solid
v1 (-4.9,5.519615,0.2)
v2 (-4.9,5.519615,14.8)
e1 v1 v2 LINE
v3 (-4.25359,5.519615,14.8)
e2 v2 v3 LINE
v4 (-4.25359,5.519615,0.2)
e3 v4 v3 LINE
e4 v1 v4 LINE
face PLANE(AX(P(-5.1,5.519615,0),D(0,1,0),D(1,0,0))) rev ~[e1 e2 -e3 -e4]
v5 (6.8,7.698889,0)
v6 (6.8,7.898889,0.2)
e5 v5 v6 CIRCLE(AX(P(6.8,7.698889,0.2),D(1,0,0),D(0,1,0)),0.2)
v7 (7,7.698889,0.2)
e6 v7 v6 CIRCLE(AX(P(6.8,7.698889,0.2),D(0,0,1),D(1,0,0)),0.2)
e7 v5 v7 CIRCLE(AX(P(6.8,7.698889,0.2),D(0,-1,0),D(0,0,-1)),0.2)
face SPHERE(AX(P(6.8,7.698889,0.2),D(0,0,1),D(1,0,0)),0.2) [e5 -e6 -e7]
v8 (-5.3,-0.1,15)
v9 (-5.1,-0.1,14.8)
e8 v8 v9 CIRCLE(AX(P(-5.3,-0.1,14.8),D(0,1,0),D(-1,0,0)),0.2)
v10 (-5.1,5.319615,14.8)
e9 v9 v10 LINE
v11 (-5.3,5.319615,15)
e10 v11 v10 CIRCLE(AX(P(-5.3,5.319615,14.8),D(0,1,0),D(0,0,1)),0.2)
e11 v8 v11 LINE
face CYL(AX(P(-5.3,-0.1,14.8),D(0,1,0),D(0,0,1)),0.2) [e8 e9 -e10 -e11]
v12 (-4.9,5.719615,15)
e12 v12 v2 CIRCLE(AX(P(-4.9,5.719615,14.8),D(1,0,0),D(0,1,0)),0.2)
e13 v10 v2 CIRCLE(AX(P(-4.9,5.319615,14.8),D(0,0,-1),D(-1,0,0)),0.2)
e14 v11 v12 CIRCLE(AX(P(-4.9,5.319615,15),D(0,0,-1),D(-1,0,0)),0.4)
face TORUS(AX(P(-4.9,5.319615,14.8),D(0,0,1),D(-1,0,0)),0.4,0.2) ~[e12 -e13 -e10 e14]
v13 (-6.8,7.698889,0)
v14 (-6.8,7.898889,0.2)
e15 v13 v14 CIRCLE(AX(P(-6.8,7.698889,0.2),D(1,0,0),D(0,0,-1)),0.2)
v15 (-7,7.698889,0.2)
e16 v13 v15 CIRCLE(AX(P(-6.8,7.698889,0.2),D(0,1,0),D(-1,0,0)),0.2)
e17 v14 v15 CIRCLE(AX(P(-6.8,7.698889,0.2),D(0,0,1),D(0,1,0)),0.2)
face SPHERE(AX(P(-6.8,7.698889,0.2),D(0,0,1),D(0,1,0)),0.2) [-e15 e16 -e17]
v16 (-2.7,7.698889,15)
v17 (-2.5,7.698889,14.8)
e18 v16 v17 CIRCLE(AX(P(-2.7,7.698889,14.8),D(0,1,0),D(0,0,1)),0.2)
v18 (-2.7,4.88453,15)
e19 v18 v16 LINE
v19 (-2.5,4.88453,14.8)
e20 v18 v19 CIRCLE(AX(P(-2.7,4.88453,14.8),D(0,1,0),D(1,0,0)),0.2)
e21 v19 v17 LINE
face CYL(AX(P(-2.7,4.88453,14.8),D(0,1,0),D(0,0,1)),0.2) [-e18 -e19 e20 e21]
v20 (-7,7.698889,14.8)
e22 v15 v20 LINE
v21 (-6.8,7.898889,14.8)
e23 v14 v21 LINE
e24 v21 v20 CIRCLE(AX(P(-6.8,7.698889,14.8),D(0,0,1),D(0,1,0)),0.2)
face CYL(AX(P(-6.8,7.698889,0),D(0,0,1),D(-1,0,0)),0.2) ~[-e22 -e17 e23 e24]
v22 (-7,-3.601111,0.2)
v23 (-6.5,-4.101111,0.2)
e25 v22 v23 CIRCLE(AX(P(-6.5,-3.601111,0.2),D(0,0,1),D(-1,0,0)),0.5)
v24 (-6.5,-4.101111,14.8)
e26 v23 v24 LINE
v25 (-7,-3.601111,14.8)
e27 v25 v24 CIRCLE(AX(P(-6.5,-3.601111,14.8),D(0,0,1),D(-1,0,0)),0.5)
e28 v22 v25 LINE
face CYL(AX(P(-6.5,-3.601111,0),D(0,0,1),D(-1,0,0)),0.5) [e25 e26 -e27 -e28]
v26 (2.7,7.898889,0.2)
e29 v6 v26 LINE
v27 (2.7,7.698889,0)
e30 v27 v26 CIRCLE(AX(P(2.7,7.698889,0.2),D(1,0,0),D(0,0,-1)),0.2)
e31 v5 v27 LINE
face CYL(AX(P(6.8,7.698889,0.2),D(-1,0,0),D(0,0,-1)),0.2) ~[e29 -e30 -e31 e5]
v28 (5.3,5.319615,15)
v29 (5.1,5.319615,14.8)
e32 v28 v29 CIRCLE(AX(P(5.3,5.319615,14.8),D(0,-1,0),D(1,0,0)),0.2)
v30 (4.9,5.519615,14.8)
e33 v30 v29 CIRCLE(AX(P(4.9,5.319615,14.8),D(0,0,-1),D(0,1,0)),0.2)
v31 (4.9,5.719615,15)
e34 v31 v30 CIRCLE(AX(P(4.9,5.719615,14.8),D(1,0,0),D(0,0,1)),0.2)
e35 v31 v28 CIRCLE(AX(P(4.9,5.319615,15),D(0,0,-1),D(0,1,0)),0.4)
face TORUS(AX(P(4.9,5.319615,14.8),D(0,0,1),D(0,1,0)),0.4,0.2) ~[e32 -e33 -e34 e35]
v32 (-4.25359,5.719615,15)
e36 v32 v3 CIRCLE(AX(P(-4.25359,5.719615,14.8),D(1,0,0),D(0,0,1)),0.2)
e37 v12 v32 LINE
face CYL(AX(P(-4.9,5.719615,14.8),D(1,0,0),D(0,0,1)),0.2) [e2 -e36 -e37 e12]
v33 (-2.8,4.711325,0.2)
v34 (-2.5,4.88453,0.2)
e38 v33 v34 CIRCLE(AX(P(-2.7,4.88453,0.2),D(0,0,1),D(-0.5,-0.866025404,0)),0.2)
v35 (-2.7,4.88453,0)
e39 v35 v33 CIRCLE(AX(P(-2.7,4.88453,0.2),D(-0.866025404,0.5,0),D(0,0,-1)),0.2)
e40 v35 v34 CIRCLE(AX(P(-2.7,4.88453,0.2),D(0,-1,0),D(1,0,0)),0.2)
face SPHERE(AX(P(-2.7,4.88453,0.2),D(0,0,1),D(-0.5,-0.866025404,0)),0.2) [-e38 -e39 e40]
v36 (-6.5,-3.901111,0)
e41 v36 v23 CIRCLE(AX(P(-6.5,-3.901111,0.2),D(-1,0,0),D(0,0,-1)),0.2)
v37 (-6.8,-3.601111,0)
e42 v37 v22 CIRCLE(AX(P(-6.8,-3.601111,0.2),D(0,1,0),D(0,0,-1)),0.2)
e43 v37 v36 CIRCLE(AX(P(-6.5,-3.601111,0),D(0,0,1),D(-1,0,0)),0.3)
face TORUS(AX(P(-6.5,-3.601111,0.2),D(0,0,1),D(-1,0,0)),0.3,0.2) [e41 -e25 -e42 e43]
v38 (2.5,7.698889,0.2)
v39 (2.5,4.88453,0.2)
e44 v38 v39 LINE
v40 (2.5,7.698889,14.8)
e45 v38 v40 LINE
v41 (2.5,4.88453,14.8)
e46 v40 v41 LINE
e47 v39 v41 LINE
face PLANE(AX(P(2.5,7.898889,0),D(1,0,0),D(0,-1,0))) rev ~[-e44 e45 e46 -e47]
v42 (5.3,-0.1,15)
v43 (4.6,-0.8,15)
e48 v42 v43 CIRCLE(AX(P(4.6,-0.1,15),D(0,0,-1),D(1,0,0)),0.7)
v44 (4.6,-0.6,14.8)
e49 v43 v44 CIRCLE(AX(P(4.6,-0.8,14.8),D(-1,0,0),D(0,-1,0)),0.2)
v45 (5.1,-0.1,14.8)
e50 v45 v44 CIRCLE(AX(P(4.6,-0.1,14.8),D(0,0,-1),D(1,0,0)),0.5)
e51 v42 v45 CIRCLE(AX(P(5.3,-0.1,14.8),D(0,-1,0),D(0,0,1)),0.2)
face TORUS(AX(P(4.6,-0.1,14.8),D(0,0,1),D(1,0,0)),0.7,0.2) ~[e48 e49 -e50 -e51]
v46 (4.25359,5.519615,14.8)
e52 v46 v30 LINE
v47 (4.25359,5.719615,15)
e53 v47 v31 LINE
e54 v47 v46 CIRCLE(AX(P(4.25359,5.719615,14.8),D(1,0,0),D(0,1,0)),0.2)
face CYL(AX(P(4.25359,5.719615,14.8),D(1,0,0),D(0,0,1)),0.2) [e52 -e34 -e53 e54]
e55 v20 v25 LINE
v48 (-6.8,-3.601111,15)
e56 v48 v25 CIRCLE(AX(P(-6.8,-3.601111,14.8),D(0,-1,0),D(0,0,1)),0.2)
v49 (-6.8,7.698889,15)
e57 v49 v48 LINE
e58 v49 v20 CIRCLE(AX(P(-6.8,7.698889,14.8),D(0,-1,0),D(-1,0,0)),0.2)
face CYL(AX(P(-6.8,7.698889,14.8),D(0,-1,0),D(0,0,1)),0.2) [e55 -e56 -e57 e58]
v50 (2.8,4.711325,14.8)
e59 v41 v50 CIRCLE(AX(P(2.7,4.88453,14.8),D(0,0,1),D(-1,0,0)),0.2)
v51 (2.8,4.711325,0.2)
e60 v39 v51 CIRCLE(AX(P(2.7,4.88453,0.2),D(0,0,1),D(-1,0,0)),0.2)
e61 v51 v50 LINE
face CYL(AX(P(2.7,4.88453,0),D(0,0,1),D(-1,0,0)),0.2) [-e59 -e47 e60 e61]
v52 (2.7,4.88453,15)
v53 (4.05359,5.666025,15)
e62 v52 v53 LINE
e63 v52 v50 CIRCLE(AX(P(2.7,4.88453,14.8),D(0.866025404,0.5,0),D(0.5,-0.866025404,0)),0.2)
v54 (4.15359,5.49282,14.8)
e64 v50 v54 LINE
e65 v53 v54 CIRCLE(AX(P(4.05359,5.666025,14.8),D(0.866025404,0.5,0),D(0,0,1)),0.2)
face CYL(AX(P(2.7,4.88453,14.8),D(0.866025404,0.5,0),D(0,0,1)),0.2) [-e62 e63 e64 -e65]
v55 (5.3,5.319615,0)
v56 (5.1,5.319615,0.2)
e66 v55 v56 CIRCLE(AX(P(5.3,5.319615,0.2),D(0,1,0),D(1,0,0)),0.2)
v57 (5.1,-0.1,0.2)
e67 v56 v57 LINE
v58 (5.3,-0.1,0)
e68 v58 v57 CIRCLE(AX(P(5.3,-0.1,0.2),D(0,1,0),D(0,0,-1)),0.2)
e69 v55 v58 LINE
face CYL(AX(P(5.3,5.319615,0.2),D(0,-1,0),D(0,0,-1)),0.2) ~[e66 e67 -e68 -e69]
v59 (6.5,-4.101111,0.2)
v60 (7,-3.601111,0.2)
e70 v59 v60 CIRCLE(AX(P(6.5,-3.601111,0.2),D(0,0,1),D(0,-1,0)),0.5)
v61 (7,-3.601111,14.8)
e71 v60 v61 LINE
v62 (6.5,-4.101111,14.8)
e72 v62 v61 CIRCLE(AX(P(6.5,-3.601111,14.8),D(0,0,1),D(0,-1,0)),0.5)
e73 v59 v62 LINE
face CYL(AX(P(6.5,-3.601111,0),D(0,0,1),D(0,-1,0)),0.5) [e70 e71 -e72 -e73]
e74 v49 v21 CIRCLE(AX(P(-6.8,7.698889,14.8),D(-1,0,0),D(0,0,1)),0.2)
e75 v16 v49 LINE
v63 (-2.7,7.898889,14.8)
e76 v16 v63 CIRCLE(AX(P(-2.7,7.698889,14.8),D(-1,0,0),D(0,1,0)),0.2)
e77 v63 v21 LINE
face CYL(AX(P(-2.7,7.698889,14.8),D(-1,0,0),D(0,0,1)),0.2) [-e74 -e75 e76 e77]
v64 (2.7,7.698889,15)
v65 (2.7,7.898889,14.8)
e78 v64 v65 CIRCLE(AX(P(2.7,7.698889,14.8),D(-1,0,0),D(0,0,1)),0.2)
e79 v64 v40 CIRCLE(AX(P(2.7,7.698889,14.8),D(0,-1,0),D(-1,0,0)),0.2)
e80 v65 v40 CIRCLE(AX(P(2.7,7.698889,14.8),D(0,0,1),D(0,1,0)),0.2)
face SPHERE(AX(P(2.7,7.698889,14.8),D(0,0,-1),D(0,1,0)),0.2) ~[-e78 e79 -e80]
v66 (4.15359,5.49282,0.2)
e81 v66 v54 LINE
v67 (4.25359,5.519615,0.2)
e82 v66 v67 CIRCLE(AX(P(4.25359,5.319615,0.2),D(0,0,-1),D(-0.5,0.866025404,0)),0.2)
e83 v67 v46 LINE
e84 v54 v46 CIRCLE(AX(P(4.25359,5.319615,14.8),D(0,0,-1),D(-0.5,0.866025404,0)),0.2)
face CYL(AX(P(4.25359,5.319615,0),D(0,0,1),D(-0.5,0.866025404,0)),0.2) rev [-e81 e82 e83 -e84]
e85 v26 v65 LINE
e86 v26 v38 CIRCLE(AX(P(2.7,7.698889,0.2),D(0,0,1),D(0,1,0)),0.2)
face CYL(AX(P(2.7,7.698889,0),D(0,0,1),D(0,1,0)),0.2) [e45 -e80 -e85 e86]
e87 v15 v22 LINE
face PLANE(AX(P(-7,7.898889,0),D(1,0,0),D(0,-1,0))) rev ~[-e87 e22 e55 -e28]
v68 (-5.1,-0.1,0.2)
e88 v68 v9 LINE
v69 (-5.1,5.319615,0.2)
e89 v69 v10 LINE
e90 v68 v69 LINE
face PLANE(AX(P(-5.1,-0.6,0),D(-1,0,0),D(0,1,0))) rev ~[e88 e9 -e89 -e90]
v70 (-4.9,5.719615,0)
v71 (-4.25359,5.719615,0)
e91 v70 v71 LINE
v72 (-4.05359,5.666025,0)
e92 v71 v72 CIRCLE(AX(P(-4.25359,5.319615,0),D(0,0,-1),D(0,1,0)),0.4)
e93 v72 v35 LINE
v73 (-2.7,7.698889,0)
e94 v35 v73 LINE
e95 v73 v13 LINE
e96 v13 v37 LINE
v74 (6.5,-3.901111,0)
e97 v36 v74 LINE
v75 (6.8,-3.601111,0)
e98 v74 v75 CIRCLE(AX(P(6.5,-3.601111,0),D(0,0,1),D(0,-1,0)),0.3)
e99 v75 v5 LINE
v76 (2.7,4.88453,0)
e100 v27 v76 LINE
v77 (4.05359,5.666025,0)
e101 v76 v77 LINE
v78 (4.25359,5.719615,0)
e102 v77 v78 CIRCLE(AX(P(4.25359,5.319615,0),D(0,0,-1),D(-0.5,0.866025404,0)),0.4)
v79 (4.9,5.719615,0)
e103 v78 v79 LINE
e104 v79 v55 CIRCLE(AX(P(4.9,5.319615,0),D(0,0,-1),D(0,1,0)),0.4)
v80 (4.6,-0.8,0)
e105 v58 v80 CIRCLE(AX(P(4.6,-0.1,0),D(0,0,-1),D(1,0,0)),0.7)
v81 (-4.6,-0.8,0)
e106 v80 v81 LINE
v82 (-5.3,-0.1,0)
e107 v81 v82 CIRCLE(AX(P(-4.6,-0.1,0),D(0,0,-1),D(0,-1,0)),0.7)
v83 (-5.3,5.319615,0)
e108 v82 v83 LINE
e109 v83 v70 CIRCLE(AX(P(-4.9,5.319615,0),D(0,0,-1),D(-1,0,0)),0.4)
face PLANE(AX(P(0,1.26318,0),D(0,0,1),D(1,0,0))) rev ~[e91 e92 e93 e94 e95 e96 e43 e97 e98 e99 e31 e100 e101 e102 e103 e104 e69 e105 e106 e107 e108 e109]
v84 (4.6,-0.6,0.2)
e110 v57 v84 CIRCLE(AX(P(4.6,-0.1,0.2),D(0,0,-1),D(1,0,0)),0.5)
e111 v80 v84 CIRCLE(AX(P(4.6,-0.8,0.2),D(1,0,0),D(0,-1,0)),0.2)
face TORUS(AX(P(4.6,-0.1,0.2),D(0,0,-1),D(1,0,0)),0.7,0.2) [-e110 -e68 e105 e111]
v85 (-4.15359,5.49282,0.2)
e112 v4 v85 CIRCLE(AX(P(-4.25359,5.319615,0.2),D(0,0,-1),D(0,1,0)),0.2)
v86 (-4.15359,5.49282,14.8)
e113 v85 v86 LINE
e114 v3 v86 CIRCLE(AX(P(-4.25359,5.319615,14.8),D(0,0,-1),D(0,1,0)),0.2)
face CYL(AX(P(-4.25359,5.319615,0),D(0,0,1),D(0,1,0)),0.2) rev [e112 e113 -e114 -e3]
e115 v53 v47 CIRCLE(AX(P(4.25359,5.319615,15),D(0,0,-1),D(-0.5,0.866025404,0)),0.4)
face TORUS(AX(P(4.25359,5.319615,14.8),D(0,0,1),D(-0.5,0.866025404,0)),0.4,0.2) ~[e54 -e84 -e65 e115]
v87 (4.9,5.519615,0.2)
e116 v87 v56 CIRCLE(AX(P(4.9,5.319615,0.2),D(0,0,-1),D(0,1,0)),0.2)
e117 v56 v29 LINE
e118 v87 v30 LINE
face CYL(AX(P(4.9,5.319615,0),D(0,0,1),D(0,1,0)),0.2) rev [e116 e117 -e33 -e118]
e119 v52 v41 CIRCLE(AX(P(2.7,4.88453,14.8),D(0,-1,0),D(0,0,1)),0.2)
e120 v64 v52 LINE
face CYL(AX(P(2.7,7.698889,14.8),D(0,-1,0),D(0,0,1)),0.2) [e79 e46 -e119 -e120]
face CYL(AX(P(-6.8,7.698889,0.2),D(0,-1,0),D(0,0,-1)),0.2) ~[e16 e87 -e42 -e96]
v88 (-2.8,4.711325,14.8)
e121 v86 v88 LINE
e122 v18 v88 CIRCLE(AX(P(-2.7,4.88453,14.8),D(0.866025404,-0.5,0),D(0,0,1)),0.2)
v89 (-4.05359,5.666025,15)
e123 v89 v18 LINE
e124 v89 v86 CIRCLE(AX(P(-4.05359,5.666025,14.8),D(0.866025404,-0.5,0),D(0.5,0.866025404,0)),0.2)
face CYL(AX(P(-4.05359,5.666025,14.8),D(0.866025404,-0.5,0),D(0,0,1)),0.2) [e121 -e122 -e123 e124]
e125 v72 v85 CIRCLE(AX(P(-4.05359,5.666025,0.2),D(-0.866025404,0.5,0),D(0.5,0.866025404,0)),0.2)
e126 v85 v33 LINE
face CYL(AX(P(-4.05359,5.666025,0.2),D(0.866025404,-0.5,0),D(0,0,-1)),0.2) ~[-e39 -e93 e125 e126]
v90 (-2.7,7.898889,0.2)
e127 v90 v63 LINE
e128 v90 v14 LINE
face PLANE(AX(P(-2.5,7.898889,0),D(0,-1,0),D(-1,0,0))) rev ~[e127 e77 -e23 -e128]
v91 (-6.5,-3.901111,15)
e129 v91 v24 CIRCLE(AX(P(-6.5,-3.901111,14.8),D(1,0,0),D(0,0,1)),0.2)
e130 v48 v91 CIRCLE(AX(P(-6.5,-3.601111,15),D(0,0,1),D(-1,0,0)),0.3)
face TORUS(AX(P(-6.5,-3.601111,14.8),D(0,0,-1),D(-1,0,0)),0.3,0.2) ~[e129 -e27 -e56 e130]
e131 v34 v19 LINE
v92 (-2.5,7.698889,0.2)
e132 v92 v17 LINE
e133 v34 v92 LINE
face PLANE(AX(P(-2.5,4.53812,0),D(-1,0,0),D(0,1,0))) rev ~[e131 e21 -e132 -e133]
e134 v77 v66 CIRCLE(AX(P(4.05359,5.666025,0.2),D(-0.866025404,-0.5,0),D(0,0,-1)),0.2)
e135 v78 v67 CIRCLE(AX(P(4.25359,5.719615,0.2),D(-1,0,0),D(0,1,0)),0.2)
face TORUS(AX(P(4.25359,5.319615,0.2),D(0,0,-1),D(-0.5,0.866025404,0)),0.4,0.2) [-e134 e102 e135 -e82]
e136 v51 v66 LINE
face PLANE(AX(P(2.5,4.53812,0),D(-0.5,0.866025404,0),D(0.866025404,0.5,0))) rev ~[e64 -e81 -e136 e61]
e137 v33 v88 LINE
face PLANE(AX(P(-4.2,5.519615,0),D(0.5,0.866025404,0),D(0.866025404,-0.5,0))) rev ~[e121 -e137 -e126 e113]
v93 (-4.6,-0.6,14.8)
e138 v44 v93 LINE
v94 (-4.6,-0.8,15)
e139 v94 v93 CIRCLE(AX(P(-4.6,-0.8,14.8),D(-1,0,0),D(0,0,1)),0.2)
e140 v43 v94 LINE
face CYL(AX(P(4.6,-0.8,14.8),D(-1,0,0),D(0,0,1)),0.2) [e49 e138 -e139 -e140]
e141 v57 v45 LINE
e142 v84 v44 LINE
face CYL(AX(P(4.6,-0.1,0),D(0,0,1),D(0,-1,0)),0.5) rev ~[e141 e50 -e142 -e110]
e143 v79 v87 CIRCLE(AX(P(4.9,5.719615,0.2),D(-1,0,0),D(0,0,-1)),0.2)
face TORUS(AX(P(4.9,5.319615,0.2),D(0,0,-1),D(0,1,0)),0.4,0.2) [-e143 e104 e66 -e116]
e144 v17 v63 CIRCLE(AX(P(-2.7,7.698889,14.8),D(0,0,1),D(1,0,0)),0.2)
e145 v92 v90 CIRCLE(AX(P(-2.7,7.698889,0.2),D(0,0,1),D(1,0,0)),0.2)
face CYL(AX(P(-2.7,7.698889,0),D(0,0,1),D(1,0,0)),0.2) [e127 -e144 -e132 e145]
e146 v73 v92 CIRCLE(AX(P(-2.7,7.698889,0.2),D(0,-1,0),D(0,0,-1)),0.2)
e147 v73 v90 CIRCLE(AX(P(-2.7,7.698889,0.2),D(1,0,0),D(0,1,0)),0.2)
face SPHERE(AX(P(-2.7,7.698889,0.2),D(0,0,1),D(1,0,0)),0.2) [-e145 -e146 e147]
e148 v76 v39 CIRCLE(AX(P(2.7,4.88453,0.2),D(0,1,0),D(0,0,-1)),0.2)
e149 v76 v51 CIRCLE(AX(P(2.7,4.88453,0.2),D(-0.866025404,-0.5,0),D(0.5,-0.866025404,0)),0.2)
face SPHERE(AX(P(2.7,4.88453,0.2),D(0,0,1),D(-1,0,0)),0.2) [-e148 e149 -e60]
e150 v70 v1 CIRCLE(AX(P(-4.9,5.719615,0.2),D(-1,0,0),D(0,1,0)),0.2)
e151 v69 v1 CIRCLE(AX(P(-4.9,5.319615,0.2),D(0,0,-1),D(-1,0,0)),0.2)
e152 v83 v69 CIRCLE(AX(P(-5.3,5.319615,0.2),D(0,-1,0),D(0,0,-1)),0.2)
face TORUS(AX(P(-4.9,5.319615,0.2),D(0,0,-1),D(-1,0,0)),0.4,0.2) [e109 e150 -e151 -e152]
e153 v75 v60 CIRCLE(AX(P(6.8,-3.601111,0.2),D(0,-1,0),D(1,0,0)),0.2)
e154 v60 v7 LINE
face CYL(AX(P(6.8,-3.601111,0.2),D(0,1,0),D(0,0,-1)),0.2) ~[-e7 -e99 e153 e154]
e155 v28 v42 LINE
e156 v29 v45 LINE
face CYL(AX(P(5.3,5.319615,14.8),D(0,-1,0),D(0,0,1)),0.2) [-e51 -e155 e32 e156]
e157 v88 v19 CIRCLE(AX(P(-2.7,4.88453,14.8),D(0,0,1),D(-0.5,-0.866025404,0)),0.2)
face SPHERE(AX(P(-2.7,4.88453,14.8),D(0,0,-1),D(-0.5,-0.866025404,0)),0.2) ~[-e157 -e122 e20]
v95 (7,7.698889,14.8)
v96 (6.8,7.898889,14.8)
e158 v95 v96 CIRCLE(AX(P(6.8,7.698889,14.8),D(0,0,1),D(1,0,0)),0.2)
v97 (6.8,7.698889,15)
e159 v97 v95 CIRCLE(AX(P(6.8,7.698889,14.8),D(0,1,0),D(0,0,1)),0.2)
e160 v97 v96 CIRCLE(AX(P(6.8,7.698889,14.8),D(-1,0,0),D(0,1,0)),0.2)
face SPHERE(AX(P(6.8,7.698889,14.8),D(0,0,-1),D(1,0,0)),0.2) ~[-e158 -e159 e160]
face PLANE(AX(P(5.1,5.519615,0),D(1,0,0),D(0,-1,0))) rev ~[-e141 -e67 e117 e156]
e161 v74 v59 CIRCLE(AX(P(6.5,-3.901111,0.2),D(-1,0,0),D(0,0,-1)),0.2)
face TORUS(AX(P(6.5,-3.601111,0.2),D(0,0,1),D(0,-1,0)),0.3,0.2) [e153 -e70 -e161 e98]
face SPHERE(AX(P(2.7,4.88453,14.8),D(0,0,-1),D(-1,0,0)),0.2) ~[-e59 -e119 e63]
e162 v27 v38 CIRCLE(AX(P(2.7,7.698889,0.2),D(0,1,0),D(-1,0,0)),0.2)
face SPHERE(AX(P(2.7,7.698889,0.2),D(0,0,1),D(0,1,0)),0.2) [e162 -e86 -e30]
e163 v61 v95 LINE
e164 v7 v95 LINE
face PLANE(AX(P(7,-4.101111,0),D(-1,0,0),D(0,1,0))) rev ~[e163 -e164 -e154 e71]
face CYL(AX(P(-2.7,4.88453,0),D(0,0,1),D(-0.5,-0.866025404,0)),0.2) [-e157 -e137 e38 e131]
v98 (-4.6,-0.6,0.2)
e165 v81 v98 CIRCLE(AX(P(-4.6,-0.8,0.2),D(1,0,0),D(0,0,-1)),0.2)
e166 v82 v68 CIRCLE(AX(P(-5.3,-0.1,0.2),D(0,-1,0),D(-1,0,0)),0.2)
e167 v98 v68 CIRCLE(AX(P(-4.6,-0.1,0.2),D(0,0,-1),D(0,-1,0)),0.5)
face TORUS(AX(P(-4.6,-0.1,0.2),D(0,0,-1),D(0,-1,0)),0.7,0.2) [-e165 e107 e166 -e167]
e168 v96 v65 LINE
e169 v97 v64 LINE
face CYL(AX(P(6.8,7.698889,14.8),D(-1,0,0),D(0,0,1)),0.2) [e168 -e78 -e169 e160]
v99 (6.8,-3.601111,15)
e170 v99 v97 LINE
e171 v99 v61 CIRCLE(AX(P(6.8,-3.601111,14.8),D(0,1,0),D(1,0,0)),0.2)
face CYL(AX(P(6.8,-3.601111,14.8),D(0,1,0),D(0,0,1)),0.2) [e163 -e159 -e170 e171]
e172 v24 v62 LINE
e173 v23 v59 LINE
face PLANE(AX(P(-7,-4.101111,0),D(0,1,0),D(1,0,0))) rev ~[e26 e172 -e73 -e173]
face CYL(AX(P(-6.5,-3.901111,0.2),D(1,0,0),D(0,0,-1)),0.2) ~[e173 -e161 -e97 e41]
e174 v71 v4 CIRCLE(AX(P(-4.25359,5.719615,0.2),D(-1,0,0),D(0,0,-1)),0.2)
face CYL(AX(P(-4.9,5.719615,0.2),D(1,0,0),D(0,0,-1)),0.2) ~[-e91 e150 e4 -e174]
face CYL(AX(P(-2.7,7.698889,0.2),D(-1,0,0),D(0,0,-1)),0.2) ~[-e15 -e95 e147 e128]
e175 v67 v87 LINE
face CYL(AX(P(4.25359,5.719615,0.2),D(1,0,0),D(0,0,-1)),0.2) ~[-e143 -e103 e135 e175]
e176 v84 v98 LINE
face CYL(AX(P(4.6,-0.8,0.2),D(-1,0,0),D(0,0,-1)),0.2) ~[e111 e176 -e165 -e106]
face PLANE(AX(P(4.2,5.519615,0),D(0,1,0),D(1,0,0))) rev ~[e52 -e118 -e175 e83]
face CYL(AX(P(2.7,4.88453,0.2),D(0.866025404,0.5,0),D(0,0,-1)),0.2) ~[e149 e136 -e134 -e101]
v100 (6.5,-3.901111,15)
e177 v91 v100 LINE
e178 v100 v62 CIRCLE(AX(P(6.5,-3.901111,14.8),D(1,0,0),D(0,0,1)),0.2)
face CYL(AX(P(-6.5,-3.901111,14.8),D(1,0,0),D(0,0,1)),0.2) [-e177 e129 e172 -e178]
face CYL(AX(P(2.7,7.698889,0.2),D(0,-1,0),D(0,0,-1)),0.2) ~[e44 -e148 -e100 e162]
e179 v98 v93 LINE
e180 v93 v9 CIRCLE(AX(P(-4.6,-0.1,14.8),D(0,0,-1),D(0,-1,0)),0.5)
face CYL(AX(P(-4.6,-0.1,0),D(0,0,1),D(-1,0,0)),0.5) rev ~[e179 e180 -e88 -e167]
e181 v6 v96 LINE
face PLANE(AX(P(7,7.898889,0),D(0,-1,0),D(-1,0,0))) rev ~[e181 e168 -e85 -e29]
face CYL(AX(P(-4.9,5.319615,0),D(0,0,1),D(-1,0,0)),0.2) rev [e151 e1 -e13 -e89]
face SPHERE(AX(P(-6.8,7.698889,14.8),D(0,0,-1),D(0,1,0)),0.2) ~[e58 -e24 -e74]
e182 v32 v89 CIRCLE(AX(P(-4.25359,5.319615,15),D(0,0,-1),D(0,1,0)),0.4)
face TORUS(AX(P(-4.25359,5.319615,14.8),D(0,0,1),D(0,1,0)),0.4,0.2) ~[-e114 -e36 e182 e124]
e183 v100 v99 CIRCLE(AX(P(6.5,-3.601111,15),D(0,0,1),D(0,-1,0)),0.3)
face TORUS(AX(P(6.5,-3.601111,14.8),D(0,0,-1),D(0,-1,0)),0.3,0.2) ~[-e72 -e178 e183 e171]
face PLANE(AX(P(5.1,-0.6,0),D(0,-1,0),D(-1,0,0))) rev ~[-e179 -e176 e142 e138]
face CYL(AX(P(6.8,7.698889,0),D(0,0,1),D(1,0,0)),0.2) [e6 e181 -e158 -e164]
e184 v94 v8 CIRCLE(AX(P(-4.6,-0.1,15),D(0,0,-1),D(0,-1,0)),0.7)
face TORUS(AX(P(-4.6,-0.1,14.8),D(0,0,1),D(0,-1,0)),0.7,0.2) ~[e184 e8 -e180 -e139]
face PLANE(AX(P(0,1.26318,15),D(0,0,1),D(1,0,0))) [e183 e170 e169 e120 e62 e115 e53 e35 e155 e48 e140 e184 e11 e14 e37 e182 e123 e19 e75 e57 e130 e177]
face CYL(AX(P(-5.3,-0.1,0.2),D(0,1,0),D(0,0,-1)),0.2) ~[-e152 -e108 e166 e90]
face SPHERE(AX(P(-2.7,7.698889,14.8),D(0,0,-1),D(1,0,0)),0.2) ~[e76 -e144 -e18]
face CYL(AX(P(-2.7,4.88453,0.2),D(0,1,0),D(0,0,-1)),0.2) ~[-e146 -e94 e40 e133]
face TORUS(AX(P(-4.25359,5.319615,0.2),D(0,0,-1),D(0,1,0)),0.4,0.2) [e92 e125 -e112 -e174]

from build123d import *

# Parameters (mm, degrees)
BOSS_EXTRUDE1_DEPTH = 15
FILLET1_R           = 0.2
FILLET2_R           = 0.5
FILLET3_R           = 0.2


with BuildPart() as part:
    # Sketch1 → Boss-Extrude1 (new body)
    with BuildSketch(Plane.XY):
        Polygon((-4.5, 5.519615242), (-4.5, 7.8988893), (-7, 7.8988893), (-7, -4.1011107), (7, -4.1011107), (7, 7.8988893), (4.5, 7.8988893), (4.5, 5.519615242), (5.1, 5.519615242), (5.1, -0.6), (-5.1, -0.6), (-5.1, 5.519615242), align=None)
        Polygon((-2.5, 7.8988893), (-4.5, 7.8988893), (-4.5, 5.519615242), (-4.2, 5.519615242), (-2.5, 4.538119785), align=None)
        Polygon((4.5, 7.8988893), (2.5, 7.8988893), (2.5, 4.538119785), (4.2, 5.519615242), (4.5, 5.519615242), align=None)
    extrude(amount=BOSS_EXTRUDE1_DEPTH)

    # Fillet1
    fillet1_edges = [part.edges().sort_by_distance(p)[0] for p in [
        (4.2, 5.519615242, 7.5),
        (2.5, 4.538119785, 7.5),
        (2.5, 7.8988893, 7.5),
        (7, 7.8988893, 7.5),
        (-7, 7.8988893, 7.5),
        (-2.5, 7.8988893, 7.5),
        (-2.5, 4.538119785, 7.5),
        (-4.2, 5.519615242, 7.5),
        (-5.1, 5.519615242, 7.5),
        (5.1, 5.519615242, 7.5),
    ]]
    fillet(fillet1_edges, radius=FILLET1_R)

    # Fillet2
    fillet2_edges = [part.edges().sort_by_distance(p)[0] for p in [
        (7, -4.1011107, 7.5),
        (-7, -4.1011107, 7.5),
        (-5.1, -0.6, 7.5),
        (5.1, -0.6, 7.5),
    ]]
    fillet(fillet2_edges, radius=FILLET2_R)

    # Fillet3
    fillet3_edges = [part.edges().sort_by_distance(p)[0] for p in [
        (0, -4.1011107, 0),
        (0, -4.1011107, 15),
        (0, -0.6, 0),
        (5.1, 2.609807621, 0),
        (7, 2.0488893, 0),
        (6.853553391, -3.95466409, 0),
        (-6.853553391, -3.95466409, 0),
        (7, 2.0488893, 15),
        (5.1, 2.609807621, 15),
        (0, -0.6, 15),
        (6.853553391, -3.95466409, 15),
        (-6.853553391, -3.95466409, 15),
        (-4.953553391, -0.453553391, 0),
        (-4.953553391, -0.453553391, 15),
        (4.953553391, -0.453553391, 0),
        (4.953553391, -0.453553391, 15),
        (4.576794919, 5.519615242, 0),
        (4.576794919, 5.519615242, 15),
        (3.476794919, 5.102072594, 0),
        (3.476794919, 5.102072594, 15),
        (-3.476794919, 5.102072594, 0),
        (-3.476794919, 5.102072594, 15),
        (-4.576794919, 5.519615242, 0),
        (-4.576794919, 5.519615242, 15),
        (-5.1, 2.609807621, 0),
        (-5.1, 2.609807621, 15),
        (-7, 2.0488893, 0),
        (-7, 2.0488893, 15),
        (2.5, 6.291709623, 0),
        (4.75, 7.8988893, 0),
        (-4.75, 7.8988893, 0),
        (-2.5, 6.291709623, 0),
        (2.6, 4.711324865, 0),
        (-2.6, 4.711324865, 0),
        (-2.558578644, 7.840310656, 0),
        (2.558578644, 7.840310656, 0),
        (6.941421356, 7.840310656, 0),
        (-6.941421356, 7.840310656, 0),
        (-4.75, 7.8988893, 15),
        (-2.5, 6.291709623, 15),
        (4.75, 7.8988893, 15),
        (2.5, 6.291709623, 15),
        (2.6, 4.711324865, 15),
        (-2.6, 4.711324865, 15),
        (-2.558578644, 7.840310656, 15),
        (2.558578644, 7.840310656, 15),
        (6.941421356, 7.840310656, 15),
        (-6.941421356, 7.840310656, 15),
        (5.041421356, 5.461036599, 0),
        (5.041421356, 5.461036599, 15),
        (4.201826029, 5.512800408, 0),
        (4.201826029, 5.512800408, 15),
        (-4.201826029, 5.512800408, 0),
        (-4.201826029, 5.512800408, 15),
        (-5.041421356, 5.461036599, 0),
        (-5.041421356, 5.461036599, 15),
    ]]
    fillet(fillet3_edges, radius=FILLET3_R)


solid = part.part
